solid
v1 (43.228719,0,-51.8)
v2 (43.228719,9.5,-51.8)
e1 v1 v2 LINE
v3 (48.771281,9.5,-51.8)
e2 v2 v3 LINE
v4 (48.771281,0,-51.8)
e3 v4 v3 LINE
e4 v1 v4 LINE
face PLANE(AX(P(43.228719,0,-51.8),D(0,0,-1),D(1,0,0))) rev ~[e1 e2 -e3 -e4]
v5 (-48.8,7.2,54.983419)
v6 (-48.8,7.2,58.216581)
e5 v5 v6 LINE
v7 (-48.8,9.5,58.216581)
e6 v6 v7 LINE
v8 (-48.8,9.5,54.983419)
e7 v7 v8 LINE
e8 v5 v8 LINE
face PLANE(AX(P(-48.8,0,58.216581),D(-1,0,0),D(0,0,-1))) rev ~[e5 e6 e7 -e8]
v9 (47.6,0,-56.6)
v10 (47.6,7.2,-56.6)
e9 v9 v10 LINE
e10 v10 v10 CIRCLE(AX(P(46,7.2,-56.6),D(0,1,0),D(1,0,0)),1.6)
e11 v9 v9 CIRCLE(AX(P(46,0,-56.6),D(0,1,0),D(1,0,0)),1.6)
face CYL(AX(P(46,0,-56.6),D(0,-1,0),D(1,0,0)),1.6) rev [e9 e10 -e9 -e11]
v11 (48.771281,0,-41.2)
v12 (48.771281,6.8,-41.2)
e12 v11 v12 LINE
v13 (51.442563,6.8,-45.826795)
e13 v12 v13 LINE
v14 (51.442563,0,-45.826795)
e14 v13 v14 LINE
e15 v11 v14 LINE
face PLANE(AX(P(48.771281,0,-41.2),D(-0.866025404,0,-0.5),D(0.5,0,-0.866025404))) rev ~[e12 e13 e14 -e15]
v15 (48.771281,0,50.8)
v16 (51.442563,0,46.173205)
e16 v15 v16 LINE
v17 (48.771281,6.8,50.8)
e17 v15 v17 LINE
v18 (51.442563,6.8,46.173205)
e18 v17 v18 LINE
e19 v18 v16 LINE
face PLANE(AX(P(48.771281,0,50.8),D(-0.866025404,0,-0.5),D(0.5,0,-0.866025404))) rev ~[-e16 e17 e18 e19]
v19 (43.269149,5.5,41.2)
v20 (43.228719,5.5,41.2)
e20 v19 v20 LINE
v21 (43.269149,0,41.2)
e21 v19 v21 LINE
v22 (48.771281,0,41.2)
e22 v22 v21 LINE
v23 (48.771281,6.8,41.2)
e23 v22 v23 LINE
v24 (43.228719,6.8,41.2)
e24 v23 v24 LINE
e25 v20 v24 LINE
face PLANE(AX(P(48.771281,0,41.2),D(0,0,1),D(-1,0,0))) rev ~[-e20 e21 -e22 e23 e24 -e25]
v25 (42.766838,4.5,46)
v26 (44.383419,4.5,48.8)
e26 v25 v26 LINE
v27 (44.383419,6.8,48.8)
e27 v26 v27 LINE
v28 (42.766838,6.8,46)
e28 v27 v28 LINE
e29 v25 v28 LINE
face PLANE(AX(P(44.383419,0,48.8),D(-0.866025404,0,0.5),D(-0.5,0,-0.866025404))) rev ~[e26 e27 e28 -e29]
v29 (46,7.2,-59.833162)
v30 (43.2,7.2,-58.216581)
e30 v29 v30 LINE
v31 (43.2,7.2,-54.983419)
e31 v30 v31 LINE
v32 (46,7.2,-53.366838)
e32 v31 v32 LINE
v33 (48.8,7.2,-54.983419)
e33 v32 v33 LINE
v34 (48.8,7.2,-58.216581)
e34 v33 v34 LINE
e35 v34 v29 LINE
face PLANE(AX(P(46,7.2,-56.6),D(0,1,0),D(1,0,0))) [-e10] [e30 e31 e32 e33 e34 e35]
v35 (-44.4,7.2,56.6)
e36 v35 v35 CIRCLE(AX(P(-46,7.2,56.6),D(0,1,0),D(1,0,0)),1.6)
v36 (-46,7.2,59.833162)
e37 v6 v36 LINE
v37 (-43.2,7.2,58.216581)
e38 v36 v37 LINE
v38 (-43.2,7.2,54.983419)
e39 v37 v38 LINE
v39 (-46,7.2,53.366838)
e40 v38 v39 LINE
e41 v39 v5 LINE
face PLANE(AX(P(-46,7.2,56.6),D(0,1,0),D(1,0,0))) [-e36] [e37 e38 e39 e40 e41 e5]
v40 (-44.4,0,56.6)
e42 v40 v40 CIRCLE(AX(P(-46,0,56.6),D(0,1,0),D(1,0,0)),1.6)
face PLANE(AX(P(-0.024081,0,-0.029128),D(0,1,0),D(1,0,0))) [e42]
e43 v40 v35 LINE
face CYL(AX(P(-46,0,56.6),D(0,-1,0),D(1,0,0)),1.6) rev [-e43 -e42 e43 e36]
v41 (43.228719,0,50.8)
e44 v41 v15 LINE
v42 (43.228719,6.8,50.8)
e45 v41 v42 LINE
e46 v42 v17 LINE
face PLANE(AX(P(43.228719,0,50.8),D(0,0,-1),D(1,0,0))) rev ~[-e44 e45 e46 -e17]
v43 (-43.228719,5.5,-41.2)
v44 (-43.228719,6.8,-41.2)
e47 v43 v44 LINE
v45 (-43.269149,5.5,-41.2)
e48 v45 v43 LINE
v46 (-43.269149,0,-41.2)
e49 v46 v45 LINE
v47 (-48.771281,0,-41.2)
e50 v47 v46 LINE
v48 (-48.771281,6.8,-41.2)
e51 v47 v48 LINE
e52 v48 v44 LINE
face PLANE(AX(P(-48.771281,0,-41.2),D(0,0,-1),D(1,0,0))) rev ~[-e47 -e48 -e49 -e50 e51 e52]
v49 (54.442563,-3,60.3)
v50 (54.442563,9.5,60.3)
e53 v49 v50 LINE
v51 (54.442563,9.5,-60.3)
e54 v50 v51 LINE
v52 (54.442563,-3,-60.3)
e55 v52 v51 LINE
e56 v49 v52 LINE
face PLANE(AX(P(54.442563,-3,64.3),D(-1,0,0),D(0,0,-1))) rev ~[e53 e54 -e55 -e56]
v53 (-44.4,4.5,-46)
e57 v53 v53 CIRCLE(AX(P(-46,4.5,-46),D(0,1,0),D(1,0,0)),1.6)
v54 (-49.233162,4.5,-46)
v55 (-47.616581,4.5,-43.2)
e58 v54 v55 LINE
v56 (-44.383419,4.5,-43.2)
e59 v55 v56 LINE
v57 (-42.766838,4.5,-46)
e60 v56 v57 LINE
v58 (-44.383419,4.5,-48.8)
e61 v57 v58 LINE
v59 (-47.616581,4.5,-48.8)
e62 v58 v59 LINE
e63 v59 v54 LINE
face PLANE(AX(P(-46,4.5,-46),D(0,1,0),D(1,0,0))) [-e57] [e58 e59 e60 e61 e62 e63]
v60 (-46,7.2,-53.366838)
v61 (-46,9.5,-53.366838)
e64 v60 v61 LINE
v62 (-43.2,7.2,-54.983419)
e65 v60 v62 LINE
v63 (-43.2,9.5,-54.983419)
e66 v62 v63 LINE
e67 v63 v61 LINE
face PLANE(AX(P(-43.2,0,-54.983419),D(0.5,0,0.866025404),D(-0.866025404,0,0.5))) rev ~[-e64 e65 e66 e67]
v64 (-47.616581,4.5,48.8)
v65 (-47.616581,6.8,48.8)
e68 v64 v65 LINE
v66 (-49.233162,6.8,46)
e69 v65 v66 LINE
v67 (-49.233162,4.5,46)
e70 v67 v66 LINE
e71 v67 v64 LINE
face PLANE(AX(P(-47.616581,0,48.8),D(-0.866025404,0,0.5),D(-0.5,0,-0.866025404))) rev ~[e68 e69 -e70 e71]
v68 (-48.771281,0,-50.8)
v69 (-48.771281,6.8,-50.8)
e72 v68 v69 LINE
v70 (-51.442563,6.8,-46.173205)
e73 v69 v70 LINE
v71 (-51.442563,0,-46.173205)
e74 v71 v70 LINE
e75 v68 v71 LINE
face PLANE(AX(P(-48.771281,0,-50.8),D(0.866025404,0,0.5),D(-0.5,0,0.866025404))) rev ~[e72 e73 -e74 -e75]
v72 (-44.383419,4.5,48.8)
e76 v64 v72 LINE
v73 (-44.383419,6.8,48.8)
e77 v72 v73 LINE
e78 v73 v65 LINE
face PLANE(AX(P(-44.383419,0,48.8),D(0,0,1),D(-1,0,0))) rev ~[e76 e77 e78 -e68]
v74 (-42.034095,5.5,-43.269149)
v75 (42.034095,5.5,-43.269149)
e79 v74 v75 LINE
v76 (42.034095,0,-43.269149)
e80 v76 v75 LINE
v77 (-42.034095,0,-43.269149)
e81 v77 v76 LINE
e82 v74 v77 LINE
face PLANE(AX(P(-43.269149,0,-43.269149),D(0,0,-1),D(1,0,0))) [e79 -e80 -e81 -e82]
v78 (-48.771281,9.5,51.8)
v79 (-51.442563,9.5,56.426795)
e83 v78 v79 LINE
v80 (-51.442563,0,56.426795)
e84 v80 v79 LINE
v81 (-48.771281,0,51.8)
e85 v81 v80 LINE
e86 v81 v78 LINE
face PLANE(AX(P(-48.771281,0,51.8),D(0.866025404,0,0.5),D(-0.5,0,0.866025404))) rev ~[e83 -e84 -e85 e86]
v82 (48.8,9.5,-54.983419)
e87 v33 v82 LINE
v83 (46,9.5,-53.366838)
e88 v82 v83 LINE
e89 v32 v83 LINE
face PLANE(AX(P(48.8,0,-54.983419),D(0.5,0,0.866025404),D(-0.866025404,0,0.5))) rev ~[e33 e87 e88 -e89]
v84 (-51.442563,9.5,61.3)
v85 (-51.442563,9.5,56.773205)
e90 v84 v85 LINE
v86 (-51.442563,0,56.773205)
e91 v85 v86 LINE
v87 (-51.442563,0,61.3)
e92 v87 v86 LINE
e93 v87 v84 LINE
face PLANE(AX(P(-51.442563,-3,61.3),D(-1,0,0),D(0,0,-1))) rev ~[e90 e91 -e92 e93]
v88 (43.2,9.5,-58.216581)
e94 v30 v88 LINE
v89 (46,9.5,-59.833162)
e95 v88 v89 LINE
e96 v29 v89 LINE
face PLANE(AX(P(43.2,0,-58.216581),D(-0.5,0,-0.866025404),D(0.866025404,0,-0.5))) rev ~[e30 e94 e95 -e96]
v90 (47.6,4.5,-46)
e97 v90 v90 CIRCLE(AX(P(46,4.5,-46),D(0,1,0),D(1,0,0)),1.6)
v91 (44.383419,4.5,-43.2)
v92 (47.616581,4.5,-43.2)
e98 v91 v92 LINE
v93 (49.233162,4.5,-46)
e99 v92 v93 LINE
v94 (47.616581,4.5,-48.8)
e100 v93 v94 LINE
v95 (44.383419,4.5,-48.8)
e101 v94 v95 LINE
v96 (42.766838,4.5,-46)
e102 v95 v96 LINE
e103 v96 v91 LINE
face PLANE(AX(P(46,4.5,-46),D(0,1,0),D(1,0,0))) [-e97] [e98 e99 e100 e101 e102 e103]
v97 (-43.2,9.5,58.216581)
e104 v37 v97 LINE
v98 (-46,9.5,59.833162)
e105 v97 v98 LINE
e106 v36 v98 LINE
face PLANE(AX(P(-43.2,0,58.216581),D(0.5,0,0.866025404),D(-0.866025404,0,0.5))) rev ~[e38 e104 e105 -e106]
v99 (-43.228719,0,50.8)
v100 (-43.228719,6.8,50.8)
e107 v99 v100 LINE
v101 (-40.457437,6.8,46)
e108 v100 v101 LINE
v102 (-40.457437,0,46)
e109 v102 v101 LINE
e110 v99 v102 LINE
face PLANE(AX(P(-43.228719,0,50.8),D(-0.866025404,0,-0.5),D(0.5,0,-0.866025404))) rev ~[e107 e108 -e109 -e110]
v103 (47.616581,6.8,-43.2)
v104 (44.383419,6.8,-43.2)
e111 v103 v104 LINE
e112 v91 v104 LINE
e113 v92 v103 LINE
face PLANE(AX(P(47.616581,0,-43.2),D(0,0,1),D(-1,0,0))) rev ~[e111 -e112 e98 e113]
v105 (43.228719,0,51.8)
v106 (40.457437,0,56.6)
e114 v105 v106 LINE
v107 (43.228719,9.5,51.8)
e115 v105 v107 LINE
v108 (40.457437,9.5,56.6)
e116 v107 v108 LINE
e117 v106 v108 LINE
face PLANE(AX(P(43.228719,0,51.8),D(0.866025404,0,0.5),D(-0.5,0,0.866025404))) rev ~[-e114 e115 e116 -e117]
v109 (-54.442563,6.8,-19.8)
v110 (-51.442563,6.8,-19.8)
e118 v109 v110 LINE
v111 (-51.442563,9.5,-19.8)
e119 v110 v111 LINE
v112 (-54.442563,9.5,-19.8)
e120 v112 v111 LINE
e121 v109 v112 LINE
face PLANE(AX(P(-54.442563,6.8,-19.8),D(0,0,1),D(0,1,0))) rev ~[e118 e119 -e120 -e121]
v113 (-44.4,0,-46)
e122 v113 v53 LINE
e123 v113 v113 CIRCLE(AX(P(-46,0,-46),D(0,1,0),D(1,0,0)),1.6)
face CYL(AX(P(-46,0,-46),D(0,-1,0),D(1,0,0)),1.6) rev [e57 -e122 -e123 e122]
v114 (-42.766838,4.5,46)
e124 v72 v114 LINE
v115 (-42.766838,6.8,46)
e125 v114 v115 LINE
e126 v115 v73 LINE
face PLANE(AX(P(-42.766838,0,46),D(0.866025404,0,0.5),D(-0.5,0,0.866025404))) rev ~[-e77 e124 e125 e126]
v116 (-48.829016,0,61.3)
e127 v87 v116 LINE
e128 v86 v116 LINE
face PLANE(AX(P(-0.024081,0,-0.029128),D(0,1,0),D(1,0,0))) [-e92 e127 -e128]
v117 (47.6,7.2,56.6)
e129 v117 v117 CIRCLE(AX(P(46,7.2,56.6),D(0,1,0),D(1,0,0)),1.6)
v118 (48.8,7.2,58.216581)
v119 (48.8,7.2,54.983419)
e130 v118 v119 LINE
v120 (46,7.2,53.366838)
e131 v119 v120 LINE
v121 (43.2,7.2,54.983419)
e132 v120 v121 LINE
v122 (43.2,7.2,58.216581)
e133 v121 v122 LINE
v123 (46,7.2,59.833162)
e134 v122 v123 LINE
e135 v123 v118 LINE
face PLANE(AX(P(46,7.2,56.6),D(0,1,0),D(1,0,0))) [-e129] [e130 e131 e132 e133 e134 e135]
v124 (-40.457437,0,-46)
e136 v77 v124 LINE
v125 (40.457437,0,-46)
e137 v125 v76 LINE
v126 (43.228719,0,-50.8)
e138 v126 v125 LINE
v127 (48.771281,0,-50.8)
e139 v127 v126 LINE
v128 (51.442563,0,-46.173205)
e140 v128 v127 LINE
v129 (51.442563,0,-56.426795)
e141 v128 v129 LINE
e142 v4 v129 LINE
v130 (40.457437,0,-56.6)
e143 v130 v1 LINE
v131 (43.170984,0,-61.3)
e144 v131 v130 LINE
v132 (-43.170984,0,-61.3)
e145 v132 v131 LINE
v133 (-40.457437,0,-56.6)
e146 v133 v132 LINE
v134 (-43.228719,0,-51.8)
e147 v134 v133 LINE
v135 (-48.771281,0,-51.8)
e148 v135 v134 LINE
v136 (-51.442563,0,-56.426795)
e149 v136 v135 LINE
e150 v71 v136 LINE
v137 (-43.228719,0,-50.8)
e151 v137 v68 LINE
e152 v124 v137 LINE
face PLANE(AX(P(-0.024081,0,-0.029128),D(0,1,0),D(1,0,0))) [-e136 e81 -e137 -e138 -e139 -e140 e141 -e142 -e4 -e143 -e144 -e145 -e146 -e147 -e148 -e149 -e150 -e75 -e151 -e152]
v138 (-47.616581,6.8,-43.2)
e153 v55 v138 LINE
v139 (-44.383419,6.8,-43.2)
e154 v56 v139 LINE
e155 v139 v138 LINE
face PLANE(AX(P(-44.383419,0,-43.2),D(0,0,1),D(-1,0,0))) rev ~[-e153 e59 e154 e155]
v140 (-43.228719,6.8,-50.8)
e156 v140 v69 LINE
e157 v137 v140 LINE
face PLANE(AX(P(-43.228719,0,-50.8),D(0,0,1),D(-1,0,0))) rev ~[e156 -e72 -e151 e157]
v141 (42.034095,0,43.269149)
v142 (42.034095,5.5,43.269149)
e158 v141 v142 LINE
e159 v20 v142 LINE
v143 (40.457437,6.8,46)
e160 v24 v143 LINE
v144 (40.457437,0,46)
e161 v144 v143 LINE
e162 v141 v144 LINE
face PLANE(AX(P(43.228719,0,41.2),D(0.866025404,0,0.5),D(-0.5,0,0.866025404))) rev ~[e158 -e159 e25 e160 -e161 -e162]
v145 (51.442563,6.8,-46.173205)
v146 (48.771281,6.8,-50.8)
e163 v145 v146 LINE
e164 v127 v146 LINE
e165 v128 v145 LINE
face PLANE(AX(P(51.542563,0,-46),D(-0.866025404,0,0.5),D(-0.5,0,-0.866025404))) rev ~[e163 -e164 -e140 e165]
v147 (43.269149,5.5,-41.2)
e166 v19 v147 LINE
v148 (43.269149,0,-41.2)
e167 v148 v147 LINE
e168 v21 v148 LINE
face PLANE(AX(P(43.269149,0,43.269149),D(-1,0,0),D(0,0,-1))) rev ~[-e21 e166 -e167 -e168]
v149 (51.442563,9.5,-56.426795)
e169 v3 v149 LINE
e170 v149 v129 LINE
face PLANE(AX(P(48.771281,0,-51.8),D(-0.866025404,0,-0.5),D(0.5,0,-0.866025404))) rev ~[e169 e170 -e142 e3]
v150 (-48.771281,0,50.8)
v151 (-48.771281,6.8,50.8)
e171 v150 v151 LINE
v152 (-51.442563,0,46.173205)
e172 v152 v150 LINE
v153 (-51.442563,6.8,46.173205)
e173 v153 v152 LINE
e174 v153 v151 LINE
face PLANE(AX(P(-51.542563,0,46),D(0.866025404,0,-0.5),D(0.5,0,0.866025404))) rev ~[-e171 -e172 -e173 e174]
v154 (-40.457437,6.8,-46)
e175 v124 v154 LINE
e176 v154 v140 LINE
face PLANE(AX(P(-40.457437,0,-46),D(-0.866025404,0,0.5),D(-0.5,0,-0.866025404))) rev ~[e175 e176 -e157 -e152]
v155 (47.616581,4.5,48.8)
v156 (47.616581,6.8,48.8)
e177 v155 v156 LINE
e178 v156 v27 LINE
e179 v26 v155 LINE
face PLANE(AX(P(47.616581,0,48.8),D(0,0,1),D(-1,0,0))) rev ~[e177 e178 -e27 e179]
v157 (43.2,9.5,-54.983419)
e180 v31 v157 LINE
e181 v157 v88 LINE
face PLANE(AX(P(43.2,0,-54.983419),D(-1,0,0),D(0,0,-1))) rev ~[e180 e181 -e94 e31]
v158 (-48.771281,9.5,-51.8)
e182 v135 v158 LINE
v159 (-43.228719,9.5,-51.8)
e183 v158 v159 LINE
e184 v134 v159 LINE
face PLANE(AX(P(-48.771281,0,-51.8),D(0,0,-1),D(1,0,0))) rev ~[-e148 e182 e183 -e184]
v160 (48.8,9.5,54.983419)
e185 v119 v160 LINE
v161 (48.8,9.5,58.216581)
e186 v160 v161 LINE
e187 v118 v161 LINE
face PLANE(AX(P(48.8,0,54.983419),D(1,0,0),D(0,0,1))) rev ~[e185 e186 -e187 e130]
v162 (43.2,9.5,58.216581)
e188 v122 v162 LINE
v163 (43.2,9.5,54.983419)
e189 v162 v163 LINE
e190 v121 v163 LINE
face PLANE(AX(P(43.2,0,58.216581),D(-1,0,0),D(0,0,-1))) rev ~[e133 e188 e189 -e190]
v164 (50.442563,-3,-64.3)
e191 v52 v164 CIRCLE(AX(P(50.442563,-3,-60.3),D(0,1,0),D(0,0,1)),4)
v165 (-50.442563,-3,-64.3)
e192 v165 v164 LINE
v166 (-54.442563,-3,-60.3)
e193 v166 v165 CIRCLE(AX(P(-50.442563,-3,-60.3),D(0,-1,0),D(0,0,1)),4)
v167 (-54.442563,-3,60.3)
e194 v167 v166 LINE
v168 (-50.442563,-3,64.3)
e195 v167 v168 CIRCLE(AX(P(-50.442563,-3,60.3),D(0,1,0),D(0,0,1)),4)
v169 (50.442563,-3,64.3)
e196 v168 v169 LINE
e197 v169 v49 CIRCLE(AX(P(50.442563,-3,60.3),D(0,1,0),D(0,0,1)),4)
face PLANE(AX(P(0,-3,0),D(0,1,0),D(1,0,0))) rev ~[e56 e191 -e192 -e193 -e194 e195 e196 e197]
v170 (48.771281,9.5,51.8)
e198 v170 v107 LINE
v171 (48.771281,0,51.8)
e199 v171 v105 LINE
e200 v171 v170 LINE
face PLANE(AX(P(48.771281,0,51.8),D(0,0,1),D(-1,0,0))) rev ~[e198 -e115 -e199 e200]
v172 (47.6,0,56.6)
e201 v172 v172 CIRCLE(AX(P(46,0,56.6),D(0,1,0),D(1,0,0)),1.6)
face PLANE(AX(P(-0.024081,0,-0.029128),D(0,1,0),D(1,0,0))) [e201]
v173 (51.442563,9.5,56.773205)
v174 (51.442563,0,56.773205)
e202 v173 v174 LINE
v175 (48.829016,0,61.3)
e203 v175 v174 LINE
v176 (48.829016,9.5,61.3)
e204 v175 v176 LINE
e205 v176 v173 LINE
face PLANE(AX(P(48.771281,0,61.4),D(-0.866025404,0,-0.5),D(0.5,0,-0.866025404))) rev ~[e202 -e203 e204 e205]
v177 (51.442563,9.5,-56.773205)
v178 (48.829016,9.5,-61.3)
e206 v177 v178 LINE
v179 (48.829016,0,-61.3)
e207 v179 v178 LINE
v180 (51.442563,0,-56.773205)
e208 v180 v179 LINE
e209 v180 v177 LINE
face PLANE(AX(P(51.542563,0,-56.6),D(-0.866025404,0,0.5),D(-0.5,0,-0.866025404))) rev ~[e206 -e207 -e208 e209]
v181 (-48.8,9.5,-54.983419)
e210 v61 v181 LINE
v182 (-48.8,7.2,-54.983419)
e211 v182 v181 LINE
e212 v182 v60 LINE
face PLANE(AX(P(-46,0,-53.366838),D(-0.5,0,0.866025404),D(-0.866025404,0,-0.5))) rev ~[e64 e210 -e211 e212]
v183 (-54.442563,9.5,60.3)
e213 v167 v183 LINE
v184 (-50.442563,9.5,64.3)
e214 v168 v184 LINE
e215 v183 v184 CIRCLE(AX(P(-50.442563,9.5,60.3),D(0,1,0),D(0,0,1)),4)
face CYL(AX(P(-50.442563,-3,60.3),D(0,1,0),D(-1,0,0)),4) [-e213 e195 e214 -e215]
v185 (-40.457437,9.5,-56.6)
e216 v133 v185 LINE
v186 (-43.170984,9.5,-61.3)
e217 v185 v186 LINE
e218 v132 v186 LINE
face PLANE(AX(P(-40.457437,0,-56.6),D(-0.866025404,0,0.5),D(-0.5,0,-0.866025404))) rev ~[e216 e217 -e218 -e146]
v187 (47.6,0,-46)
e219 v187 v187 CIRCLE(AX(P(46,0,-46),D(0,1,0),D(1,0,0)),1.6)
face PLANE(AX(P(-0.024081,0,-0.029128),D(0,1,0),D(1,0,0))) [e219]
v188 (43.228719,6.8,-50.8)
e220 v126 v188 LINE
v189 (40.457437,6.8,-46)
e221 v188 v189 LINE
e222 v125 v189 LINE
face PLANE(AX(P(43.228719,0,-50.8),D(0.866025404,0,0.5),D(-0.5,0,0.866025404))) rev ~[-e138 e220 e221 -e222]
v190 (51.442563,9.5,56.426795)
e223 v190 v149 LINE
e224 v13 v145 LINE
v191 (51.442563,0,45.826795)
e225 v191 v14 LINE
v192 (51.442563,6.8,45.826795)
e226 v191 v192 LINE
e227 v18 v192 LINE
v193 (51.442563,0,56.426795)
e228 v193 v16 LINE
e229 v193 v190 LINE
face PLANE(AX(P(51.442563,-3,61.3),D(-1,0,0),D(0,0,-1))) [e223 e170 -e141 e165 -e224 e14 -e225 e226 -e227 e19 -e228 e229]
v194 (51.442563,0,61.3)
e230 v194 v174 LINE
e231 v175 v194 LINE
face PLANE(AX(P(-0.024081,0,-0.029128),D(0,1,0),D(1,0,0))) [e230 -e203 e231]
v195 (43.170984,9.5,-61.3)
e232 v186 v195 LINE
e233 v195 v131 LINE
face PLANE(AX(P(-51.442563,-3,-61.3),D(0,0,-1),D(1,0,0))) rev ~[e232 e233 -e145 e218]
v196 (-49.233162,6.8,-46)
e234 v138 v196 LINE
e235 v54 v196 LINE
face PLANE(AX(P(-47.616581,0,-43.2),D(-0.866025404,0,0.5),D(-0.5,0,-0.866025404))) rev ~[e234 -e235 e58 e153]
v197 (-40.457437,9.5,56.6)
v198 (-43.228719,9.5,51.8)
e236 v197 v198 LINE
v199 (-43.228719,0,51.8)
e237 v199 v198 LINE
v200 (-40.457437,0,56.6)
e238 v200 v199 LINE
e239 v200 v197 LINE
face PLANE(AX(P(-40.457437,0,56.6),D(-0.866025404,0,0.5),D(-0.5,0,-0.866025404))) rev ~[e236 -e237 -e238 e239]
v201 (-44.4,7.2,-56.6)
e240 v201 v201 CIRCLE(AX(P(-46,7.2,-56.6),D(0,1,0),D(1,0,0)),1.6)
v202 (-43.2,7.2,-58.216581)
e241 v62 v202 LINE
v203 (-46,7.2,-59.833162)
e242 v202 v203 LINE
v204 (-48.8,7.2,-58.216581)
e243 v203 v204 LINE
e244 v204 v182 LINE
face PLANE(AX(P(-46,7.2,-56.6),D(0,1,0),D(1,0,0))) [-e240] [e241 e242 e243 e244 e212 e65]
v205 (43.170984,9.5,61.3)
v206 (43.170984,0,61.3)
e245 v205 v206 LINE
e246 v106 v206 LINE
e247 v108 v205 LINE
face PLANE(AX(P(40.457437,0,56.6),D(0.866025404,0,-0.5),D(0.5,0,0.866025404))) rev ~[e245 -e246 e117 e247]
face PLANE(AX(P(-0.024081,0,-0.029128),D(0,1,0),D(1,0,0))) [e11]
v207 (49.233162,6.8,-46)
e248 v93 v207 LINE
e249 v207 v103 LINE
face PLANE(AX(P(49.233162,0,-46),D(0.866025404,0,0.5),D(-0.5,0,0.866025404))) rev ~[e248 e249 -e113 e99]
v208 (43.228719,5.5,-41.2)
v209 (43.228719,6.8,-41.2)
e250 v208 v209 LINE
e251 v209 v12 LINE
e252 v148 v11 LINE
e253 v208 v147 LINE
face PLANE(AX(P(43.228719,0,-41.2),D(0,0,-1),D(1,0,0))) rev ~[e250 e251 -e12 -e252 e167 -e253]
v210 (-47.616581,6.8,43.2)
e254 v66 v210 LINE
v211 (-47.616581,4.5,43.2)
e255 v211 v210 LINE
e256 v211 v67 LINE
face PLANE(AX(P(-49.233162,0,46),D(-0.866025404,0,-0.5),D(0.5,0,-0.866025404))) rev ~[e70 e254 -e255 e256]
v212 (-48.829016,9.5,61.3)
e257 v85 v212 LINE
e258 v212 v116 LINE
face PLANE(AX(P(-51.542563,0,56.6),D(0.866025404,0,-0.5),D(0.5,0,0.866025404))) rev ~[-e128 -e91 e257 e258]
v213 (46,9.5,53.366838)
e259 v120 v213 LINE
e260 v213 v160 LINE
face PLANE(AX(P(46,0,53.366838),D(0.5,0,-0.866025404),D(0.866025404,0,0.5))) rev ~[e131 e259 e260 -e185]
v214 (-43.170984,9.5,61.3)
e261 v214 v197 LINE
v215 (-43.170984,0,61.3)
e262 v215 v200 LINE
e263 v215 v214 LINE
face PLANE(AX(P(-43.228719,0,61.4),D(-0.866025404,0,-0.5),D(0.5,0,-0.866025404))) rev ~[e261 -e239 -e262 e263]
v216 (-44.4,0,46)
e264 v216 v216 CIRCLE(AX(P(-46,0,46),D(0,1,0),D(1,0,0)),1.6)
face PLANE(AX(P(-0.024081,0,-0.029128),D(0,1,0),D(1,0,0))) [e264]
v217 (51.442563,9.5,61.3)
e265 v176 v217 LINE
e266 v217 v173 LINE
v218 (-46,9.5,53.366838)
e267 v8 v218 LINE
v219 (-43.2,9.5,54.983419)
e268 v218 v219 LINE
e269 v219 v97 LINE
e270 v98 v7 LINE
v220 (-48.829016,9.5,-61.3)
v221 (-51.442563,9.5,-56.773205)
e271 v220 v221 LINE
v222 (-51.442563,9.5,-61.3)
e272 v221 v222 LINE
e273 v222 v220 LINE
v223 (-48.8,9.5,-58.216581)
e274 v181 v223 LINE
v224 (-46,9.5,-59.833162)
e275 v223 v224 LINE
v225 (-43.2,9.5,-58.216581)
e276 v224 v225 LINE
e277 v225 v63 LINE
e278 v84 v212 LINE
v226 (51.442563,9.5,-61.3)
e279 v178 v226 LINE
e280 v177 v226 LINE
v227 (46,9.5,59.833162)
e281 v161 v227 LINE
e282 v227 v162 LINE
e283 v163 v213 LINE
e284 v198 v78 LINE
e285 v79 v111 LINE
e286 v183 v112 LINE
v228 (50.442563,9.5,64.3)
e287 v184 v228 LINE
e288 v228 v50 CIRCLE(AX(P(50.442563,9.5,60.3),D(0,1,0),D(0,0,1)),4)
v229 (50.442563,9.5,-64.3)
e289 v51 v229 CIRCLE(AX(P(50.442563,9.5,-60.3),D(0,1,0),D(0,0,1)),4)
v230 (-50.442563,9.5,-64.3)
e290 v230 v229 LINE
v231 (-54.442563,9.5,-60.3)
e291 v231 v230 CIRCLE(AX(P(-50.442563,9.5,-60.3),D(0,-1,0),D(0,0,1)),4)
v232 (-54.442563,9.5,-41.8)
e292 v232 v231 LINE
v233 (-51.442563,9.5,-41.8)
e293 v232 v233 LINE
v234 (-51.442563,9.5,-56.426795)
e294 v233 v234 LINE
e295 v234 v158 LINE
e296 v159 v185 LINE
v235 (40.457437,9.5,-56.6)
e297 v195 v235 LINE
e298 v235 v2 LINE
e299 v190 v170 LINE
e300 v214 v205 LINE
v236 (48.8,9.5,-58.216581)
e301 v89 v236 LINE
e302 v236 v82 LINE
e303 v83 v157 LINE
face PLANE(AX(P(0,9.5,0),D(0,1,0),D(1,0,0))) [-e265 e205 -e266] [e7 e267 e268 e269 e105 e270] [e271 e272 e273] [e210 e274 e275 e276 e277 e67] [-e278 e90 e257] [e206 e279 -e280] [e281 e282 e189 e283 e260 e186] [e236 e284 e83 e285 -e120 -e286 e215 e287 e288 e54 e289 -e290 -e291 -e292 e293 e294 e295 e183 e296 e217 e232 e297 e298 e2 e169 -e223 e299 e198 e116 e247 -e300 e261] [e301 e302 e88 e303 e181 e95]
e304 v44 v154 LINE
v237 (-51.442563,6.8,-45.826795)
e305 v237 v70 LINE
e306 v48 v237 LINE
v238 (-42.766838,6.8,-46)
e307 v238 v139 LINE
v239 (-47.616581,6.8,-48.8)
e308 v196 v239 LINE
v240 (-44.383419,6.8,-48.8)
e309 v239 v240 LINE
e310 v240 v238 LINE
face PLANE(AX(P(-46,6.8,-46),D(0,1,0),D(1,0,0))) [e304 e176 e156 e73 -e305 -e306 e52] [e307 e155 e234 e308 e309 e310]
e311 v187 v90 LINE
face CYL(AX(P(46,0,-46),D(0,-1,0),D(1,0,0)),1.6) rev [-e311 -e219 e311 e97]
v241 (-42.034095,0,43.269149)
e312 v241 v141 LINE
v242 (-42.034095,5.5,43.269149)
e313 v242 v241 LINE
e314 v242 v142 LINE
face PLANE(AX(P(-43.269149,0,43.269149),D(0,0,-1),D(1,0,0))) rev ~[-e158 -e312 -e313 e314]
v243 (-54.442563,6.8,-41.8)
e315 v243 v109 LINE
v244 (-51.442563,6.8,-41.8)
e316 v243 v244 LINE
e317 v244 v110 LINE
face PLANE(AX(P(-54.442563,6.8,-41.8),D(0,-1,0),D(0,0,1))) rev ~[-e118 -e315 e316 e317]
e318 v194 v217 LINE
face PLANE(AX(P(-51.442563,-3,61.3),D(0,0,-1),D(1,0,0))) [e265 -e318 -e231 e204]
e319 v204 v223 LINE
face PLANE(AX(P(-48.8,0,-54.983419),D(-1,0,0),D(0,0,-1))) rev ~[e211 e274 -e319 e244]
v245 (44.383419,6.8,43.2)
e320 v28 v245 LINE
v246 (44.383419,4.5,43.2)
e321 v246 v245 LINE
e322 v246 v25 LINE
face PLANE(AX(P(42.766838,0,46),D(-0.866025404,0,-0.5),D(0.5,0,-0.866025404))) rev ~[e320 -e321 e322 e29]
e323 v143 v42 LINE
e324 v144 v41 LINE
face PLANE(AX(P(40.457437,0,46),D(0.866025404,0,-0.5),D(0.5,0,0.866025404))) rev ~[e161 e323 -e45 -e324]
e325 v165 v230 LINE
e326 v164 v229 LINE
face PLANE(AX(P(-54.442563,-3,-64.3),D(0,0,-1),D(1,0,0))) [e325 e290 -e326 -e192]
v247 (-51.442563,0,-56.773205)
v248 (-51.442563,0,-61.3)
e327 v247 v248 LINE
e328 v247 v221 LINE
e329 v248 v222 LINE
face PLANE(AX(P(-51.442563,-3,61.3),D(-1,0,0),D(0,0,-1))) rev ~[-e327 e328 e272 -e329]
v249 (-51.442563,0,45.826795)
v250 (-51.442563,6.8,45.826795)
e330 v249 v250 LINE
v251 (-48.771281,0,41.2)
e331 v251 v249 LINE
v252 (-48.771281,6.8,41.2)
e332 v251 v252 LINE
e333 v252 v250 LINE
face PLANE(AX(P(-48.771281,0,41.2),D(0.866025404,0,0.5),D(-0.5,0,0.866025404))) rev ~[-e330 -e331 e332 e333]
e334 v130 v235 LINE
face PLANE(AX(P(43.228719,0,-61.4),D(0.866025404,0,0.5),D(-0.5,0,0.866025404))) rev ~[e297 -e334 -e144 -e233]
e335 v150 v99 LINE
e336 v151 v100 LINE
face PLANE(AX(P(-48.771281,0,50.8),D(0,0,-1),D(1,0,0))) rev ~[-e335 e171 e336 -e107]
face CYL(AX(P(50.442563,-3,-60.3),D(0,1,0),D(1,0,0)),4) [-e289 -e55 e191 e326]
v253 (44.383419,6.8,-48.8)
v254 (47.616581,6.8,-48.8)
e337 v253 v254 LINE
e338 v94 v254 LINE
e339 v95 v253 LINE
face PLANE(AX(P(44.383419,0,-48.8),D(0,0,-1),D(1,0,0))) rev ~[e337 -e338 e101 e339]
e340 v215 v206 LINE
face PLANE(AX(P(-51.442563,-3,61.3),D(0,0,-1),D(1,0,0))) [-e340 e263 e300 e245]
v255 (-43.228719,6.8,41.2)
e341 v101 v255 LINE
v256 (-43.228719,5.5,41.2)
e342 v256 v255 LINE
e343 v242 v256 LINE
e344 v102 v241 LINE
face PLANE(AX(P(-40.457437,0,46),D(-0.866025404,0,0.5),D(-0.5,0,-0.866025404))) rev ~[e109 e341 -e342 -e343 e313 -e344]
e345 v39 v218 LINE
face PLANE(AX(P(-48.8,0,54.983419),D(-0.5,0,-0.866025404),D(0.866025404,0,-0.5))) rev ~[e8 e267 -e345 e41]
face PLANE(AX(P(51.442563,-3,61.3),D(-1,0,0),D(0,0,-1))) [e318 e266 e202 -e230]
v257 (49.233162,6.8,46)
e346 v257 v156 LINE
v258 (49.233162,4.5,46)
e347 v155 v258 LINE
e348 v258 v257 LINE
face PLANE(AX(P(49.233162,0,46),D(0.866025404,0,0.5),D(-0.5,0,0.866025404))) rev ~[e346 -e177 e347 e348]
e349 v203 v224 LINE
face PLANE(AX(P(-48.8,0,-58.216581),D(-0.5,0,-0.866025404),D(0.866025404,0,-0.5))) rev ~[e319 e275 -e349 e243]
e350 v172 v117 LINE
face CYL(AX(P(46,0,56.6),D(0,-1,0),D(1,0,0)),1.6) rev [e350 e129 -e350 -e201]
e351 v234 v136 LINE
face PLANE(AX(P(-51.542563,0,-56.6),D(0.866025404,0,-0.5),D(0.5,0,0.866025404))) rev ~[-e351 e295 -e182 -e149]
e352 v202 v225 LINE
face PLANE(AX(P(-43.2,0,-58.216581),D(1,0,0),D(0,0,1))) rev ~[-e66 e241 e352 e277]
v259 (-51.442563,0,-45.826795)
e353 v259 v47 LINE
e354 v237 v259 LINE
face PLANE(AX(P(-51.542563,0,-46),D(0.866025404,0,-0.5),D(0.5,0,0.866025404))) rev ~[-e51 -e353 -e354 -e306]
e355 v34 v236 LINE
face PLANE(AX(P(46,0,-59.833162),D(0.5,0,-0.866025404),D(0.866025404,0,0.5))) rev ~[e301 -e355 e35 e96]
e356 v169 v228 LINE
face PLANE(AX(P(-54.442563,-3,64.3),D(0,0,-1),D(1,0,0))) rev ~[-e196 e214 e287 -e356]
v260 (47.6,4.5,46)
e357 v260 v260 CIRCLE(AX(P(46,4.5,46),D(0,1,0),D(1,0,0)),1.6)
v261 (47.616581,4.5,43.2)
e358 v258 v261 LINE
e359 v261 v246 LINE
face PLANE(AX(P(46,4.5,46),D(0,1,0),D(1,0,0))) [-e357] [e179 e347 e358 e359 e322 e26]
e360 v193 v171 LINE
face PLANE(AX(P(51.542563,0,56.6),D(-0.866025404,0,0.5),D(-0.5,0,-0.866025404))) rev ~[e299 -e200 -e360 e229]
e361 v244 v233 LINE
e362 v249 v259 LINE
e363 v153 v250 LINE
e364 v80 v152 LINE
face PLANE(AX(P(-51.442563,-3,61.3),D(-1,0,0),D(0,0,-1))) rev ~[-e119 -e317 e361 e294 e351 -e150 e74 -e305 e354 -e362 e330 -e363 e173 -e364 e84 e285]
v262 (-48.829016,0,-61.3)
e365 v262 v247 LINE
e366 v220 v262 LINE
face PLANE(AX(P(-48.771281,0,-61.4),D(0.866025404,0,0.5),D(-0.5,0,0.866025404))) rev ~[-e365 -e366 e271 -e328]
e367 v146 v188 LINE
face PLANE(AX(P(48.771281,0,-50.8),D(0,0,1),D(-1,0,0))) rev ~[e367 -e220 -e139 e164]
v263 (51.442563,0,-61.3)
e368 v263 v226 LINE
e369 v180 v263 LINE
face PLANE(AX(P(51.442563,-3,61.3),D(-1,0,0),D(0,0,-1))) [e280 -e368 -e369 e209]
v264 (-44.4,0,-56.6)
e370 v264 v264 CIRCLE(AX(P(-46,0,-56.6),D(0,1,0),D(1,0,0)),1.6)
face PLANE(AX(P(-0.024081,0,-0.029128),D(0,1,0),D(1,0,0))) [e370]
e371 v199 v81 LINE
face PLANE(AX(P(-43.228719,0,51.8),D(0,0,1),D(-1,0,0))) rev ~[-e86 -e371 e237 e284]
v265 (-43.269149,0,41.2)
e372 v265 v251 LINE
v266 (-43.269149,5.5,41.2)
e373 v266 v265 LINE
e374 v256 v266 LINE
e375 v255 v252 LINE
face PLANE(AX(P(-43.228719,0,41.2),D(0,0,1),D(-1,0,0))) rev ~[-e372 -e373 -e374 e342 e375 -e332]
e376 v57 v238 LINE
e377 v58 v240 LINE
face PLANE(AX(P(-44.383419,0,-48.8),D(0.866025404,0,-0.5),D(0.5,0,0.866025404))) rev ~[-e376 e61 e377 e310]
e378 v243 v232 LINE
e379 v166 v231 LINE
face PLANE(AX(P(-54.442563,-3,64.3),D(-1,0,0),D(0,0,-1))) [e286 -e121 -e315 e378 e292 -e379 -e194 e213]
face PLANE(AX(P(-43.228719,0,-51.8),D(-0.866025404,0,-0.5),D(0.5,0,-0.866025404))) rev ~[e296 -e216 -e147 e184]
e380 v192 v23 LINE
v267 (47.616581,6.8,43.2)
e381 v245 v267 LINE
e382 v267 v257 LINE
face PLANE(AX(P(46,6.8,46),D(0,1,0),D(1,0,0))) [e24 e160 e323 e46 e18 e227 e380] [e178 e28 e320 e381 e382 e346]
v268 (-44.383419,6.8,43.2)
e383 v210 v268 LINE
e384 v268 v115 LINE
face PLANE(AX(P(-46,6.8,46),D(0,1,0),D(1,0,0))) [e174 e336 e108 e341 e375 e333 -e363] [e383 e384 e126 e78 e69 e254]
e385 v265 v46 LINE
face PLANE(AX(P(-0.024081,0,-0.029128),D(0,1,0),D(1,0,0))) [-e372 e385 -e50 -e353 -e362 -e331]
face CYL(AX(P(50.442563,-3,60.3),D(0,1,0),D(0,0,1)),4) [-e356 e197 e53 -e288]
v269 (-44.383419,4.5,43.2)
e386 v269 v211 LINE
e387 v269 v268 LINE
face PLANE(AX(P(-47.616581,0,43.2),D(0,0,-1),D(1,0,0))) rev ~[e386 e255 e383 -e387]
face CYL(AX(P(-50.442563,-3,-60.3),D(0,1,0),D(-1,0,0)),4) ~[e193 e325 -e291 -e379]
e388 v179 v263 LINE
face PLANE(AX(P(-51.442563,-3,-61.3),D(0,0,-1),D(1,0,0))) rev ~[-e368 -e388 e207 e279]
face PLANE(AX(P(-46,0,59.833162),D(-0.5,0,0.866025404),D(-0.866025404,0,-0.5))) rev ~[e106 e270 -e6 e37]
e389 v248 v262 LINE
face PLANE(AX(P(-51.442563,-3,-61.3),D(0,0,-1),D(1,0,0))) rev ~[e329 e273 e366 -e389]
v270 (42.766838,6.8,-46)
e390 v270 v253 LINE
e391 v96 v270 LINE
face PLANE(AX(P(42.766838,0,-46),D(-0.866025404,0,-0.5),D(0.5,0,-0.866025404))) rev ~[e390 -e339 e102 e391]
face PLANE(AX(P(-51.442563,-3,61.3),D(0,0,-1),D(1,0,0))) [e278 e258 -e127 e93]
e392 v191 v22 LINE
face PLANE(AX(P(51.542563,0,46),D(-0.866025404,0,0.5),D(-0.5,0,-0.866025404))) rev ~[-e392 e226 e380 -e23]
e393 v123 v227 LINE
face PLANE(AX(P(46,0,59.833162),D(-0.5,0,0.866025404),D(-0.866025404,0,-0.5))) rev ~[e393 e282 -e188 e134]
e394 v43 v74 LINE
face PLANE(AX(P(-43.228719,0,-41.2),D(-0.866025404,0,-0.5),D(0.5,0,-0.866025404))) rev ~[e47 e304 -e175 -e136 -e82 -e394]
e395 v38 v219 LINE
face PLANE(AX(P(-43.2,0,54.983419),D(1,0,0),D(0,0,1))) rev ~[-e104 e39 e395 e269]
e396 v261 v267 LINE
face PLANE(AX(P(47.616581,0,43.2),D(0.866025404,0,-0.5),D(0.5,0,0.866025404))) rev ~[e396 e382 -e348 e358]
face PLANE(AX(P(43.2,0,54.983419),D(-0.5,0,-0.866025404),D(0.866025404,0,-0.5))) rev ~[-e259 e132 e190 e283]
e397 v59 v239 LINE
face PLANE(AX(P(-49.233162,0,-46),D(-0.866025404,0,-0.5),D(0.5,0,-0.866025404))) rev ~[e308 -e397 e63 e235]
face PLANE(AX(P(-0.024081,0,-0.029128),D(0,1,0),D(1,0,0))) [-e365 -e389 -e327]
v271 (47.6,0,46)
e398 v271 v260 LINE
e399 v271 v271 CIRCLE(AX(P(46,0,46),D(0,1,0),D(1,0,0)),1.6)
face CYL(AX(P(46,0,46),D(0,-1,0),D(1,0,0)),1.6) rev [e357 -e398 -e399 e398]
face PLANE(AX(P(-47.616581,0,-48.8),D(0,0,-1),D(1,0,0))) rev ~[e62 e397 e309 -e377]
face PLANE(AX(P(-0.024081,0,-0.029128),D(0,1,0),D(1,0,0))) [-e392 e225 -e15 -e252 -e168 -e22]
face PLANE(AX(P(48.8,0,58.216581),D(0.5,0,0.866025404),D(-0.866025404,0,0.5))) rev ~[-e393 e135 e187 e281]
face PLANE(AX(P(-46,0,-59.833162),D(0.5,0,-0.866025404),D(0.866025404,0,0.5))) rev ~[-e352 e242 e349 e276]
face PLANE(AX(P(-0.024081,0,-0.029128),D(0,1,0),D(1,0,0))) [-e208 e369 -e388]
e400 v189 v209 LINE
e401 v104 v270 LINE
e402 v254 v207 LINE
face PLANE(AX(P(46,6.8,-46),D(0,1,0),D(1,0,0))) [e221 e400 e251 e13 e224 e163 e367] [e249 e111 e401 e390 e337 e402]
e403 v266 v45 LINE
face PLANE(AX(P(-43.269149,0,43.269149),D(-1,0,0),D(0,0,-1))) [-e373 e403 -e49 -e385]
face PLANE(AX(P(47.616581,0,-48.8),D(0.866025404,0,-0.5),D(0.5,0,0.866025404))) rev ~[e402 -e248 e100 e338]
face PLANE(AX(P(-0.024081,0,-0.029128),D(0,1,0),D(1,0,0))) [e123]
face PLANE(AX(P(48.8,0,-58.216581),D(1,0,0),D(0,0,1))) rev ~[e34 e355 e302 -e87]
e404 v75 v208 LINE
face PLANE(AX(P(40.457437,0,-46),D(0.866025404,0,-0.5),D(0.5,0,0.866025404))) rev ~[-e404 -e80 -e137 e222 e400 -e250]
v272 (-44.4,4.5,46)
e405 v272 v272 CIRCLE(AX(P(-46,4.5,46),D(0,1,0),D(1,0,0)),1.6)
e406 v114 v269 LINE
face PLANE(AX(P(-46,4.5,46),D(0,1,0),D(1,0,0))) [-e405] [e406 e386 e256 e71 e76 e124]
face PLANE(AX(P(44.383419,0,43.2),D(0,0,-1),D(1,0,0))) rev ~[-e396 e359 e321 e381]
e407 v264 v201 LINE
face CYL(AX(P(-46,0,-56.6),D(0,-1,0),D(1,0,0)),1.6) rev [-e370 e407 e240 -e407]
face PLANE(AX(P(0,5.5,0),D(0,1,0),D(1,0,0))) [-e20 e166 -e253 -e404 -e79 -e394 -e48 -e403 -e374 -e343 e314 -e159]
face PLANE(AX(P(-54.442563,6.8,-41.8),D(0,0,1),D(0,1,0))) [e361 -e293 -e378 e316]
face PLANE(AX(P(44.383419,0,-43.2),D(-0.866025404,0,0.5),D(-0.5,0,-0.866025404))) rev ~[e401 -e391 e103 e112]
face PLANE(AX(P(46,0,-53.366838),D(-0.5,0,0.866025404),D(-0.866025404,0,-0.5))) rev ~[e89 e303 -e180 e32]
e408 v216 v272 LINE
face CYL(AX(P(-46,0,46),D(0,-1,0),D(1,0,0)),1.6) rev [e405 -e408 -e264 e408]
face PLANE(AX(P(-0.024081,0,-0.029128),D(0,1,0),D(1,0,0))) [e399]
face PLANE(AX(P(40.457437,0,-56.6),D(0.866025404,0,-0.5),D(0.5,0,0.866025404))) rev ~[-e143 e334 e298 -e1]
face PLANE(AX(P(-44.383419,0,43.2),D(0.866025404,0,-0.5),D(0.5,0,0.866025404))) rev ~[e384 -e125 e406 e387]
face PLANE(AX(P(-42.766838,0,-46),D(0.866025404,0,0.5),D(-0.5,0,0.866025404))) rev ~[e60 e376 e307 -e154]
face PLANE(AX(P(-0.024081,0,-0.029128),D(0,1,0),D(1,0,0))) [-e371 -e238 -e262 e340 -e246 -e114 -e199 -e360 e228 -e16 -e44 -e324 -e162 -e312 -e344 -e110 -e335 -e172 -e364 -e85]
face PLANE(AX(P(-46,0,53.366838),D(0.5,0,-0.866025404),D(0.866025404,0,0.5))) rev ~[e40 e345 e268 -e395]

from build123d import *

# Parameters (mm, degrees)
P_IDAT_VYSUNUT_M25_DEPTH      = 3
P_IDAT_VYSUNUT_M26_DEPTH      = 9.5
P_IDAT_VYSUNUT_M26_DEPTH_BACK = 3
SKICA1_21_W                   = 108.885125168
SKICA1_21_H                   = 128.6
SKICA1_21_W_2                 = 102.885125168
SKICA1_21_H_2                 = 122.6
P_IDAT_VYSUNUT_M28_DEPTH      = 6.8
SKICA1_24_R                   = 1.6
P_IDAT_VYSUNUT_M29_DEPTH      = 4.5
LINPOLE3_COUNT                = 2
LINPOLE3_PITCH                = 92
LINPOLE3_COUNT_DIR2           = 2
LINPOLE3_PITCH_DIR2           = 92
P_IDAT_VYSUNUT_M30_DEPTH      = 9.5
SKICA1_26_R                   = 1.6
P_IDAT_VYSUNUT_M31_DEPTH      = 7.2
LINPOLE4_COUNT                = 2
LINPOLE4_PITCH                = 92
LINPOLE4_COUNT_DIR2           = 2
LINPOLE4_PITCH_DIR2           = 113.2
SKICA8_W                      = 86.538297386
SKICA8_H                      = 86.538297386
P_IDAT_VYSUNUT_M32_DEPTH      = 5.5
ZAOBLIT4_R                    = 4
SKICA9_W                      = 22
SKICA9_H                      = 2.7
ODEBRAT_VYSUNUT_M1_DEPTH      = 10


with BuildPart() as part:
    # Skica1 → Přidat vysunutím25 (new body)
    with BuildSketch(Plane(origin=(0, 0, 0), x_dir=(1, 0, 0), z_dir=(0, 1, 0))):
        Polygon((51.442562584, 61.3), (-43.170983681, 61.3), (-43.228718708, 61.4), (-48.771281292, 61.4), (-48.829016319, 61.3), (-51.442562584, 61.3), (-51.442562584, 56.773205081), (-51.542562584, 56.6), (-51.442562584, 56.426794919), (-51.442562584, 46.173205081), (-51.542562584, 46), (-51.442562584, 45.826794919), (-51.442562584, -61.3), (51.442562584, -61.3), align=None)
    extrude(amount=-P_IDAT_VYSUNUT_M25_DEPTH)

    # Skica1<21> → Přidat vysunutím26 (add, two sides: drawn at the far end of the back side and taken through both)
    with BuildSketch(Plane(origin=(0, 0, 0), x_dir=(1, 0, 0), z_dir=(0, 1, 0)).offset(-P_IDAT_VYSUNUT_M26_DEPTH_BACK)):
        Rectangle(SKICA1_21_W, SKICA1_21_H)
        Rectangle(SKICA1_21_W_2, SKICA1_21_H_2, mode=Mode.SUBTRACT)
    extrude(amount=P_IDAT_VYSUNUT_M26_DEPTH + P_IDAT_VYSUNUT_M26_DEPTH_BACK)

    # Skica1<23> → Přidat vysunutím28 (add)
    with BuildSketch(Plane(origin=(0, 0, 0), x_dir=(1, 0, 0), z_dir=(0, 1, 0))):
        Polygon((-48.771281292, 41.2), (-43.228718708, 41.2), (-40.457437416, 46), (-43.228718708, 50.8), (-48.771281292, 50.8), (-51.542562584, 46), align=None)
        Polygon((-44.383419246, 43.2), (-47.616580754, 43.2), (-49.233161507, 46), (-47.616580754, 48.8), (-44.383419246, 48.8), (-42.766838493, 46), align=None, mode=Mode.SUBTRACT)
    p_idat_vysunut_m28 = extrude(amount=P_IDAT_VYSUNUT_M28_DEPTH)

    # Skica1<24> → Přidat vysunutím29 (add)
    with BuildSketch(Plane(origin=(0, 0, 0), x_dir=(1, 0, 0), z_dir=(0, 1, 0))):
        Polygon((-49.233161507, 46), (-47.616580754, 43.2), (-44.383419246, 43.2), (-42.766838493, 46), (-44.383419246, 48.8), (-47.616580754, 48.8), align=None)
        with Locations((-46, 46)):
            Circle(SKICA1_24_R, mode=Mode.SUBTRACT)
    p_idat_vysunut_m29 = extrude(amount=P_IDAT_VYSUNUT_M29_DEPTH)

    # LinPole3: Přidat vysunutím28, P_idat vysunut_m29 2 × 2
    with Locations(*[(i * LINPOLE3_PITCH, 0, j * LINPOLE3_PITCH_DIR2) for i in range(LINPOLE3_COUNT) for j in range(LINPOLE3_COUNT_DIR2) if (i, j) != (0, 0)]):
        add(p_idat_vysunut_m28)
        add(p_idat_vysunut_m29)

    # Skica1<25> → Přidat vysunutím30 (add)
    with BuildSketch(Plane(origin=(0, 0, 0), x_dir=(1, 0, 0), z_dir=(0, 1, 0))):
        Polygon((-51.542562584, 56.6), (-48.771281292, 51.8), (-43.228718708, 51.8), (-40.457437416, 56.6), (-43.228718708, 61.4), (-48.771281292, 61.4), align=None)
        Polygon((-43.2, 54.983419246), (-46, 53.366838493), (-48.8, 54.983419246), (-48.8, 58.216580754), (-46, 59.833161507), (-43.2, 58.216580754), align=None, mode=Mode.SUBTRACT)
    p_idat_vysunut_m30 = extrude(amount=P_IDAT_VYSUNUT_M30_DEPTH)

    # Skica1<26> → Přidat vysunutím31 (add)
    with BuildSketch(Plane(origin=(0, 0, 0), x_dir=(1, 0, 0), z_dir=(0, 1, 0))):
        Polygon((-48.8, 54.983419246), (-46, 53.366838493), (-43.2, 54.983419246), (-43.2, 58.216580754), (-46, 59.833161507), (-48.8, 58.216580754), align=None)
        with Locations((-46, 56.6)):
            Circle(SKICA1_26_R, mode=Mode.SUBTRACT)
    p_idat_vysunut_m31 = extrude(amount=P_IDAT_VYSUNUT_M31_DEPTH)

    # LinPole4: Přidat vysunutím30, P_idat vysunut_m31 2 × 2
    with Locations(*[(i * LINPOLE4_PITCH, 0, j * LINPOLE4_PITCH_DIR2) for i in range(LINPOLE4_COUNT) for j in range(LINPOLE4_COUNT_DIR2) if (i, j) != (0, 0)]):
        add(p_idat_vysunut_m30)
        add(p_idat_vysunut_m31)

    # Skica8 → Přidat vysunutím32 (add)
    with BuildSketch(Plane(origin=(0, 0, 0), x_dir=(1, 0, 0), z_dir=(0, 1, 0))):
        Rectangle(SKICA8_W, SKICA8_H)
    extrude(amount=P_IDAT_VYSUNUT_M32_DEPTH)

    # Zaoblit4
    zaoblit4_edges = [part.edges().sort_by_distance(p)[0] for p in [
        (-54.442562584, 3.25, 64.3),
        (54.442562584, 3.25, 64.3),
        (54.442562584, 3.25, -64.3),
        (-54.442562584, 3.25, -64.3),
    ]]
    fillet(zaoblit4_edges, radius=ZAOBLIT4_R)

    # Skica9 → Odebrat vysunutím1 (cut)
    with BuildSketch(Plane.ZY.offset(54.442562584)):
        with Locations((-30.8, 8.15)):
            Rectangle(SKICA9_W, SKICA9_H)
    extrude(amount=-ODEBRAT_VYSUNUT_M1_DEPTH, mode=Mode.SUBTRACT)


solid = part.part
